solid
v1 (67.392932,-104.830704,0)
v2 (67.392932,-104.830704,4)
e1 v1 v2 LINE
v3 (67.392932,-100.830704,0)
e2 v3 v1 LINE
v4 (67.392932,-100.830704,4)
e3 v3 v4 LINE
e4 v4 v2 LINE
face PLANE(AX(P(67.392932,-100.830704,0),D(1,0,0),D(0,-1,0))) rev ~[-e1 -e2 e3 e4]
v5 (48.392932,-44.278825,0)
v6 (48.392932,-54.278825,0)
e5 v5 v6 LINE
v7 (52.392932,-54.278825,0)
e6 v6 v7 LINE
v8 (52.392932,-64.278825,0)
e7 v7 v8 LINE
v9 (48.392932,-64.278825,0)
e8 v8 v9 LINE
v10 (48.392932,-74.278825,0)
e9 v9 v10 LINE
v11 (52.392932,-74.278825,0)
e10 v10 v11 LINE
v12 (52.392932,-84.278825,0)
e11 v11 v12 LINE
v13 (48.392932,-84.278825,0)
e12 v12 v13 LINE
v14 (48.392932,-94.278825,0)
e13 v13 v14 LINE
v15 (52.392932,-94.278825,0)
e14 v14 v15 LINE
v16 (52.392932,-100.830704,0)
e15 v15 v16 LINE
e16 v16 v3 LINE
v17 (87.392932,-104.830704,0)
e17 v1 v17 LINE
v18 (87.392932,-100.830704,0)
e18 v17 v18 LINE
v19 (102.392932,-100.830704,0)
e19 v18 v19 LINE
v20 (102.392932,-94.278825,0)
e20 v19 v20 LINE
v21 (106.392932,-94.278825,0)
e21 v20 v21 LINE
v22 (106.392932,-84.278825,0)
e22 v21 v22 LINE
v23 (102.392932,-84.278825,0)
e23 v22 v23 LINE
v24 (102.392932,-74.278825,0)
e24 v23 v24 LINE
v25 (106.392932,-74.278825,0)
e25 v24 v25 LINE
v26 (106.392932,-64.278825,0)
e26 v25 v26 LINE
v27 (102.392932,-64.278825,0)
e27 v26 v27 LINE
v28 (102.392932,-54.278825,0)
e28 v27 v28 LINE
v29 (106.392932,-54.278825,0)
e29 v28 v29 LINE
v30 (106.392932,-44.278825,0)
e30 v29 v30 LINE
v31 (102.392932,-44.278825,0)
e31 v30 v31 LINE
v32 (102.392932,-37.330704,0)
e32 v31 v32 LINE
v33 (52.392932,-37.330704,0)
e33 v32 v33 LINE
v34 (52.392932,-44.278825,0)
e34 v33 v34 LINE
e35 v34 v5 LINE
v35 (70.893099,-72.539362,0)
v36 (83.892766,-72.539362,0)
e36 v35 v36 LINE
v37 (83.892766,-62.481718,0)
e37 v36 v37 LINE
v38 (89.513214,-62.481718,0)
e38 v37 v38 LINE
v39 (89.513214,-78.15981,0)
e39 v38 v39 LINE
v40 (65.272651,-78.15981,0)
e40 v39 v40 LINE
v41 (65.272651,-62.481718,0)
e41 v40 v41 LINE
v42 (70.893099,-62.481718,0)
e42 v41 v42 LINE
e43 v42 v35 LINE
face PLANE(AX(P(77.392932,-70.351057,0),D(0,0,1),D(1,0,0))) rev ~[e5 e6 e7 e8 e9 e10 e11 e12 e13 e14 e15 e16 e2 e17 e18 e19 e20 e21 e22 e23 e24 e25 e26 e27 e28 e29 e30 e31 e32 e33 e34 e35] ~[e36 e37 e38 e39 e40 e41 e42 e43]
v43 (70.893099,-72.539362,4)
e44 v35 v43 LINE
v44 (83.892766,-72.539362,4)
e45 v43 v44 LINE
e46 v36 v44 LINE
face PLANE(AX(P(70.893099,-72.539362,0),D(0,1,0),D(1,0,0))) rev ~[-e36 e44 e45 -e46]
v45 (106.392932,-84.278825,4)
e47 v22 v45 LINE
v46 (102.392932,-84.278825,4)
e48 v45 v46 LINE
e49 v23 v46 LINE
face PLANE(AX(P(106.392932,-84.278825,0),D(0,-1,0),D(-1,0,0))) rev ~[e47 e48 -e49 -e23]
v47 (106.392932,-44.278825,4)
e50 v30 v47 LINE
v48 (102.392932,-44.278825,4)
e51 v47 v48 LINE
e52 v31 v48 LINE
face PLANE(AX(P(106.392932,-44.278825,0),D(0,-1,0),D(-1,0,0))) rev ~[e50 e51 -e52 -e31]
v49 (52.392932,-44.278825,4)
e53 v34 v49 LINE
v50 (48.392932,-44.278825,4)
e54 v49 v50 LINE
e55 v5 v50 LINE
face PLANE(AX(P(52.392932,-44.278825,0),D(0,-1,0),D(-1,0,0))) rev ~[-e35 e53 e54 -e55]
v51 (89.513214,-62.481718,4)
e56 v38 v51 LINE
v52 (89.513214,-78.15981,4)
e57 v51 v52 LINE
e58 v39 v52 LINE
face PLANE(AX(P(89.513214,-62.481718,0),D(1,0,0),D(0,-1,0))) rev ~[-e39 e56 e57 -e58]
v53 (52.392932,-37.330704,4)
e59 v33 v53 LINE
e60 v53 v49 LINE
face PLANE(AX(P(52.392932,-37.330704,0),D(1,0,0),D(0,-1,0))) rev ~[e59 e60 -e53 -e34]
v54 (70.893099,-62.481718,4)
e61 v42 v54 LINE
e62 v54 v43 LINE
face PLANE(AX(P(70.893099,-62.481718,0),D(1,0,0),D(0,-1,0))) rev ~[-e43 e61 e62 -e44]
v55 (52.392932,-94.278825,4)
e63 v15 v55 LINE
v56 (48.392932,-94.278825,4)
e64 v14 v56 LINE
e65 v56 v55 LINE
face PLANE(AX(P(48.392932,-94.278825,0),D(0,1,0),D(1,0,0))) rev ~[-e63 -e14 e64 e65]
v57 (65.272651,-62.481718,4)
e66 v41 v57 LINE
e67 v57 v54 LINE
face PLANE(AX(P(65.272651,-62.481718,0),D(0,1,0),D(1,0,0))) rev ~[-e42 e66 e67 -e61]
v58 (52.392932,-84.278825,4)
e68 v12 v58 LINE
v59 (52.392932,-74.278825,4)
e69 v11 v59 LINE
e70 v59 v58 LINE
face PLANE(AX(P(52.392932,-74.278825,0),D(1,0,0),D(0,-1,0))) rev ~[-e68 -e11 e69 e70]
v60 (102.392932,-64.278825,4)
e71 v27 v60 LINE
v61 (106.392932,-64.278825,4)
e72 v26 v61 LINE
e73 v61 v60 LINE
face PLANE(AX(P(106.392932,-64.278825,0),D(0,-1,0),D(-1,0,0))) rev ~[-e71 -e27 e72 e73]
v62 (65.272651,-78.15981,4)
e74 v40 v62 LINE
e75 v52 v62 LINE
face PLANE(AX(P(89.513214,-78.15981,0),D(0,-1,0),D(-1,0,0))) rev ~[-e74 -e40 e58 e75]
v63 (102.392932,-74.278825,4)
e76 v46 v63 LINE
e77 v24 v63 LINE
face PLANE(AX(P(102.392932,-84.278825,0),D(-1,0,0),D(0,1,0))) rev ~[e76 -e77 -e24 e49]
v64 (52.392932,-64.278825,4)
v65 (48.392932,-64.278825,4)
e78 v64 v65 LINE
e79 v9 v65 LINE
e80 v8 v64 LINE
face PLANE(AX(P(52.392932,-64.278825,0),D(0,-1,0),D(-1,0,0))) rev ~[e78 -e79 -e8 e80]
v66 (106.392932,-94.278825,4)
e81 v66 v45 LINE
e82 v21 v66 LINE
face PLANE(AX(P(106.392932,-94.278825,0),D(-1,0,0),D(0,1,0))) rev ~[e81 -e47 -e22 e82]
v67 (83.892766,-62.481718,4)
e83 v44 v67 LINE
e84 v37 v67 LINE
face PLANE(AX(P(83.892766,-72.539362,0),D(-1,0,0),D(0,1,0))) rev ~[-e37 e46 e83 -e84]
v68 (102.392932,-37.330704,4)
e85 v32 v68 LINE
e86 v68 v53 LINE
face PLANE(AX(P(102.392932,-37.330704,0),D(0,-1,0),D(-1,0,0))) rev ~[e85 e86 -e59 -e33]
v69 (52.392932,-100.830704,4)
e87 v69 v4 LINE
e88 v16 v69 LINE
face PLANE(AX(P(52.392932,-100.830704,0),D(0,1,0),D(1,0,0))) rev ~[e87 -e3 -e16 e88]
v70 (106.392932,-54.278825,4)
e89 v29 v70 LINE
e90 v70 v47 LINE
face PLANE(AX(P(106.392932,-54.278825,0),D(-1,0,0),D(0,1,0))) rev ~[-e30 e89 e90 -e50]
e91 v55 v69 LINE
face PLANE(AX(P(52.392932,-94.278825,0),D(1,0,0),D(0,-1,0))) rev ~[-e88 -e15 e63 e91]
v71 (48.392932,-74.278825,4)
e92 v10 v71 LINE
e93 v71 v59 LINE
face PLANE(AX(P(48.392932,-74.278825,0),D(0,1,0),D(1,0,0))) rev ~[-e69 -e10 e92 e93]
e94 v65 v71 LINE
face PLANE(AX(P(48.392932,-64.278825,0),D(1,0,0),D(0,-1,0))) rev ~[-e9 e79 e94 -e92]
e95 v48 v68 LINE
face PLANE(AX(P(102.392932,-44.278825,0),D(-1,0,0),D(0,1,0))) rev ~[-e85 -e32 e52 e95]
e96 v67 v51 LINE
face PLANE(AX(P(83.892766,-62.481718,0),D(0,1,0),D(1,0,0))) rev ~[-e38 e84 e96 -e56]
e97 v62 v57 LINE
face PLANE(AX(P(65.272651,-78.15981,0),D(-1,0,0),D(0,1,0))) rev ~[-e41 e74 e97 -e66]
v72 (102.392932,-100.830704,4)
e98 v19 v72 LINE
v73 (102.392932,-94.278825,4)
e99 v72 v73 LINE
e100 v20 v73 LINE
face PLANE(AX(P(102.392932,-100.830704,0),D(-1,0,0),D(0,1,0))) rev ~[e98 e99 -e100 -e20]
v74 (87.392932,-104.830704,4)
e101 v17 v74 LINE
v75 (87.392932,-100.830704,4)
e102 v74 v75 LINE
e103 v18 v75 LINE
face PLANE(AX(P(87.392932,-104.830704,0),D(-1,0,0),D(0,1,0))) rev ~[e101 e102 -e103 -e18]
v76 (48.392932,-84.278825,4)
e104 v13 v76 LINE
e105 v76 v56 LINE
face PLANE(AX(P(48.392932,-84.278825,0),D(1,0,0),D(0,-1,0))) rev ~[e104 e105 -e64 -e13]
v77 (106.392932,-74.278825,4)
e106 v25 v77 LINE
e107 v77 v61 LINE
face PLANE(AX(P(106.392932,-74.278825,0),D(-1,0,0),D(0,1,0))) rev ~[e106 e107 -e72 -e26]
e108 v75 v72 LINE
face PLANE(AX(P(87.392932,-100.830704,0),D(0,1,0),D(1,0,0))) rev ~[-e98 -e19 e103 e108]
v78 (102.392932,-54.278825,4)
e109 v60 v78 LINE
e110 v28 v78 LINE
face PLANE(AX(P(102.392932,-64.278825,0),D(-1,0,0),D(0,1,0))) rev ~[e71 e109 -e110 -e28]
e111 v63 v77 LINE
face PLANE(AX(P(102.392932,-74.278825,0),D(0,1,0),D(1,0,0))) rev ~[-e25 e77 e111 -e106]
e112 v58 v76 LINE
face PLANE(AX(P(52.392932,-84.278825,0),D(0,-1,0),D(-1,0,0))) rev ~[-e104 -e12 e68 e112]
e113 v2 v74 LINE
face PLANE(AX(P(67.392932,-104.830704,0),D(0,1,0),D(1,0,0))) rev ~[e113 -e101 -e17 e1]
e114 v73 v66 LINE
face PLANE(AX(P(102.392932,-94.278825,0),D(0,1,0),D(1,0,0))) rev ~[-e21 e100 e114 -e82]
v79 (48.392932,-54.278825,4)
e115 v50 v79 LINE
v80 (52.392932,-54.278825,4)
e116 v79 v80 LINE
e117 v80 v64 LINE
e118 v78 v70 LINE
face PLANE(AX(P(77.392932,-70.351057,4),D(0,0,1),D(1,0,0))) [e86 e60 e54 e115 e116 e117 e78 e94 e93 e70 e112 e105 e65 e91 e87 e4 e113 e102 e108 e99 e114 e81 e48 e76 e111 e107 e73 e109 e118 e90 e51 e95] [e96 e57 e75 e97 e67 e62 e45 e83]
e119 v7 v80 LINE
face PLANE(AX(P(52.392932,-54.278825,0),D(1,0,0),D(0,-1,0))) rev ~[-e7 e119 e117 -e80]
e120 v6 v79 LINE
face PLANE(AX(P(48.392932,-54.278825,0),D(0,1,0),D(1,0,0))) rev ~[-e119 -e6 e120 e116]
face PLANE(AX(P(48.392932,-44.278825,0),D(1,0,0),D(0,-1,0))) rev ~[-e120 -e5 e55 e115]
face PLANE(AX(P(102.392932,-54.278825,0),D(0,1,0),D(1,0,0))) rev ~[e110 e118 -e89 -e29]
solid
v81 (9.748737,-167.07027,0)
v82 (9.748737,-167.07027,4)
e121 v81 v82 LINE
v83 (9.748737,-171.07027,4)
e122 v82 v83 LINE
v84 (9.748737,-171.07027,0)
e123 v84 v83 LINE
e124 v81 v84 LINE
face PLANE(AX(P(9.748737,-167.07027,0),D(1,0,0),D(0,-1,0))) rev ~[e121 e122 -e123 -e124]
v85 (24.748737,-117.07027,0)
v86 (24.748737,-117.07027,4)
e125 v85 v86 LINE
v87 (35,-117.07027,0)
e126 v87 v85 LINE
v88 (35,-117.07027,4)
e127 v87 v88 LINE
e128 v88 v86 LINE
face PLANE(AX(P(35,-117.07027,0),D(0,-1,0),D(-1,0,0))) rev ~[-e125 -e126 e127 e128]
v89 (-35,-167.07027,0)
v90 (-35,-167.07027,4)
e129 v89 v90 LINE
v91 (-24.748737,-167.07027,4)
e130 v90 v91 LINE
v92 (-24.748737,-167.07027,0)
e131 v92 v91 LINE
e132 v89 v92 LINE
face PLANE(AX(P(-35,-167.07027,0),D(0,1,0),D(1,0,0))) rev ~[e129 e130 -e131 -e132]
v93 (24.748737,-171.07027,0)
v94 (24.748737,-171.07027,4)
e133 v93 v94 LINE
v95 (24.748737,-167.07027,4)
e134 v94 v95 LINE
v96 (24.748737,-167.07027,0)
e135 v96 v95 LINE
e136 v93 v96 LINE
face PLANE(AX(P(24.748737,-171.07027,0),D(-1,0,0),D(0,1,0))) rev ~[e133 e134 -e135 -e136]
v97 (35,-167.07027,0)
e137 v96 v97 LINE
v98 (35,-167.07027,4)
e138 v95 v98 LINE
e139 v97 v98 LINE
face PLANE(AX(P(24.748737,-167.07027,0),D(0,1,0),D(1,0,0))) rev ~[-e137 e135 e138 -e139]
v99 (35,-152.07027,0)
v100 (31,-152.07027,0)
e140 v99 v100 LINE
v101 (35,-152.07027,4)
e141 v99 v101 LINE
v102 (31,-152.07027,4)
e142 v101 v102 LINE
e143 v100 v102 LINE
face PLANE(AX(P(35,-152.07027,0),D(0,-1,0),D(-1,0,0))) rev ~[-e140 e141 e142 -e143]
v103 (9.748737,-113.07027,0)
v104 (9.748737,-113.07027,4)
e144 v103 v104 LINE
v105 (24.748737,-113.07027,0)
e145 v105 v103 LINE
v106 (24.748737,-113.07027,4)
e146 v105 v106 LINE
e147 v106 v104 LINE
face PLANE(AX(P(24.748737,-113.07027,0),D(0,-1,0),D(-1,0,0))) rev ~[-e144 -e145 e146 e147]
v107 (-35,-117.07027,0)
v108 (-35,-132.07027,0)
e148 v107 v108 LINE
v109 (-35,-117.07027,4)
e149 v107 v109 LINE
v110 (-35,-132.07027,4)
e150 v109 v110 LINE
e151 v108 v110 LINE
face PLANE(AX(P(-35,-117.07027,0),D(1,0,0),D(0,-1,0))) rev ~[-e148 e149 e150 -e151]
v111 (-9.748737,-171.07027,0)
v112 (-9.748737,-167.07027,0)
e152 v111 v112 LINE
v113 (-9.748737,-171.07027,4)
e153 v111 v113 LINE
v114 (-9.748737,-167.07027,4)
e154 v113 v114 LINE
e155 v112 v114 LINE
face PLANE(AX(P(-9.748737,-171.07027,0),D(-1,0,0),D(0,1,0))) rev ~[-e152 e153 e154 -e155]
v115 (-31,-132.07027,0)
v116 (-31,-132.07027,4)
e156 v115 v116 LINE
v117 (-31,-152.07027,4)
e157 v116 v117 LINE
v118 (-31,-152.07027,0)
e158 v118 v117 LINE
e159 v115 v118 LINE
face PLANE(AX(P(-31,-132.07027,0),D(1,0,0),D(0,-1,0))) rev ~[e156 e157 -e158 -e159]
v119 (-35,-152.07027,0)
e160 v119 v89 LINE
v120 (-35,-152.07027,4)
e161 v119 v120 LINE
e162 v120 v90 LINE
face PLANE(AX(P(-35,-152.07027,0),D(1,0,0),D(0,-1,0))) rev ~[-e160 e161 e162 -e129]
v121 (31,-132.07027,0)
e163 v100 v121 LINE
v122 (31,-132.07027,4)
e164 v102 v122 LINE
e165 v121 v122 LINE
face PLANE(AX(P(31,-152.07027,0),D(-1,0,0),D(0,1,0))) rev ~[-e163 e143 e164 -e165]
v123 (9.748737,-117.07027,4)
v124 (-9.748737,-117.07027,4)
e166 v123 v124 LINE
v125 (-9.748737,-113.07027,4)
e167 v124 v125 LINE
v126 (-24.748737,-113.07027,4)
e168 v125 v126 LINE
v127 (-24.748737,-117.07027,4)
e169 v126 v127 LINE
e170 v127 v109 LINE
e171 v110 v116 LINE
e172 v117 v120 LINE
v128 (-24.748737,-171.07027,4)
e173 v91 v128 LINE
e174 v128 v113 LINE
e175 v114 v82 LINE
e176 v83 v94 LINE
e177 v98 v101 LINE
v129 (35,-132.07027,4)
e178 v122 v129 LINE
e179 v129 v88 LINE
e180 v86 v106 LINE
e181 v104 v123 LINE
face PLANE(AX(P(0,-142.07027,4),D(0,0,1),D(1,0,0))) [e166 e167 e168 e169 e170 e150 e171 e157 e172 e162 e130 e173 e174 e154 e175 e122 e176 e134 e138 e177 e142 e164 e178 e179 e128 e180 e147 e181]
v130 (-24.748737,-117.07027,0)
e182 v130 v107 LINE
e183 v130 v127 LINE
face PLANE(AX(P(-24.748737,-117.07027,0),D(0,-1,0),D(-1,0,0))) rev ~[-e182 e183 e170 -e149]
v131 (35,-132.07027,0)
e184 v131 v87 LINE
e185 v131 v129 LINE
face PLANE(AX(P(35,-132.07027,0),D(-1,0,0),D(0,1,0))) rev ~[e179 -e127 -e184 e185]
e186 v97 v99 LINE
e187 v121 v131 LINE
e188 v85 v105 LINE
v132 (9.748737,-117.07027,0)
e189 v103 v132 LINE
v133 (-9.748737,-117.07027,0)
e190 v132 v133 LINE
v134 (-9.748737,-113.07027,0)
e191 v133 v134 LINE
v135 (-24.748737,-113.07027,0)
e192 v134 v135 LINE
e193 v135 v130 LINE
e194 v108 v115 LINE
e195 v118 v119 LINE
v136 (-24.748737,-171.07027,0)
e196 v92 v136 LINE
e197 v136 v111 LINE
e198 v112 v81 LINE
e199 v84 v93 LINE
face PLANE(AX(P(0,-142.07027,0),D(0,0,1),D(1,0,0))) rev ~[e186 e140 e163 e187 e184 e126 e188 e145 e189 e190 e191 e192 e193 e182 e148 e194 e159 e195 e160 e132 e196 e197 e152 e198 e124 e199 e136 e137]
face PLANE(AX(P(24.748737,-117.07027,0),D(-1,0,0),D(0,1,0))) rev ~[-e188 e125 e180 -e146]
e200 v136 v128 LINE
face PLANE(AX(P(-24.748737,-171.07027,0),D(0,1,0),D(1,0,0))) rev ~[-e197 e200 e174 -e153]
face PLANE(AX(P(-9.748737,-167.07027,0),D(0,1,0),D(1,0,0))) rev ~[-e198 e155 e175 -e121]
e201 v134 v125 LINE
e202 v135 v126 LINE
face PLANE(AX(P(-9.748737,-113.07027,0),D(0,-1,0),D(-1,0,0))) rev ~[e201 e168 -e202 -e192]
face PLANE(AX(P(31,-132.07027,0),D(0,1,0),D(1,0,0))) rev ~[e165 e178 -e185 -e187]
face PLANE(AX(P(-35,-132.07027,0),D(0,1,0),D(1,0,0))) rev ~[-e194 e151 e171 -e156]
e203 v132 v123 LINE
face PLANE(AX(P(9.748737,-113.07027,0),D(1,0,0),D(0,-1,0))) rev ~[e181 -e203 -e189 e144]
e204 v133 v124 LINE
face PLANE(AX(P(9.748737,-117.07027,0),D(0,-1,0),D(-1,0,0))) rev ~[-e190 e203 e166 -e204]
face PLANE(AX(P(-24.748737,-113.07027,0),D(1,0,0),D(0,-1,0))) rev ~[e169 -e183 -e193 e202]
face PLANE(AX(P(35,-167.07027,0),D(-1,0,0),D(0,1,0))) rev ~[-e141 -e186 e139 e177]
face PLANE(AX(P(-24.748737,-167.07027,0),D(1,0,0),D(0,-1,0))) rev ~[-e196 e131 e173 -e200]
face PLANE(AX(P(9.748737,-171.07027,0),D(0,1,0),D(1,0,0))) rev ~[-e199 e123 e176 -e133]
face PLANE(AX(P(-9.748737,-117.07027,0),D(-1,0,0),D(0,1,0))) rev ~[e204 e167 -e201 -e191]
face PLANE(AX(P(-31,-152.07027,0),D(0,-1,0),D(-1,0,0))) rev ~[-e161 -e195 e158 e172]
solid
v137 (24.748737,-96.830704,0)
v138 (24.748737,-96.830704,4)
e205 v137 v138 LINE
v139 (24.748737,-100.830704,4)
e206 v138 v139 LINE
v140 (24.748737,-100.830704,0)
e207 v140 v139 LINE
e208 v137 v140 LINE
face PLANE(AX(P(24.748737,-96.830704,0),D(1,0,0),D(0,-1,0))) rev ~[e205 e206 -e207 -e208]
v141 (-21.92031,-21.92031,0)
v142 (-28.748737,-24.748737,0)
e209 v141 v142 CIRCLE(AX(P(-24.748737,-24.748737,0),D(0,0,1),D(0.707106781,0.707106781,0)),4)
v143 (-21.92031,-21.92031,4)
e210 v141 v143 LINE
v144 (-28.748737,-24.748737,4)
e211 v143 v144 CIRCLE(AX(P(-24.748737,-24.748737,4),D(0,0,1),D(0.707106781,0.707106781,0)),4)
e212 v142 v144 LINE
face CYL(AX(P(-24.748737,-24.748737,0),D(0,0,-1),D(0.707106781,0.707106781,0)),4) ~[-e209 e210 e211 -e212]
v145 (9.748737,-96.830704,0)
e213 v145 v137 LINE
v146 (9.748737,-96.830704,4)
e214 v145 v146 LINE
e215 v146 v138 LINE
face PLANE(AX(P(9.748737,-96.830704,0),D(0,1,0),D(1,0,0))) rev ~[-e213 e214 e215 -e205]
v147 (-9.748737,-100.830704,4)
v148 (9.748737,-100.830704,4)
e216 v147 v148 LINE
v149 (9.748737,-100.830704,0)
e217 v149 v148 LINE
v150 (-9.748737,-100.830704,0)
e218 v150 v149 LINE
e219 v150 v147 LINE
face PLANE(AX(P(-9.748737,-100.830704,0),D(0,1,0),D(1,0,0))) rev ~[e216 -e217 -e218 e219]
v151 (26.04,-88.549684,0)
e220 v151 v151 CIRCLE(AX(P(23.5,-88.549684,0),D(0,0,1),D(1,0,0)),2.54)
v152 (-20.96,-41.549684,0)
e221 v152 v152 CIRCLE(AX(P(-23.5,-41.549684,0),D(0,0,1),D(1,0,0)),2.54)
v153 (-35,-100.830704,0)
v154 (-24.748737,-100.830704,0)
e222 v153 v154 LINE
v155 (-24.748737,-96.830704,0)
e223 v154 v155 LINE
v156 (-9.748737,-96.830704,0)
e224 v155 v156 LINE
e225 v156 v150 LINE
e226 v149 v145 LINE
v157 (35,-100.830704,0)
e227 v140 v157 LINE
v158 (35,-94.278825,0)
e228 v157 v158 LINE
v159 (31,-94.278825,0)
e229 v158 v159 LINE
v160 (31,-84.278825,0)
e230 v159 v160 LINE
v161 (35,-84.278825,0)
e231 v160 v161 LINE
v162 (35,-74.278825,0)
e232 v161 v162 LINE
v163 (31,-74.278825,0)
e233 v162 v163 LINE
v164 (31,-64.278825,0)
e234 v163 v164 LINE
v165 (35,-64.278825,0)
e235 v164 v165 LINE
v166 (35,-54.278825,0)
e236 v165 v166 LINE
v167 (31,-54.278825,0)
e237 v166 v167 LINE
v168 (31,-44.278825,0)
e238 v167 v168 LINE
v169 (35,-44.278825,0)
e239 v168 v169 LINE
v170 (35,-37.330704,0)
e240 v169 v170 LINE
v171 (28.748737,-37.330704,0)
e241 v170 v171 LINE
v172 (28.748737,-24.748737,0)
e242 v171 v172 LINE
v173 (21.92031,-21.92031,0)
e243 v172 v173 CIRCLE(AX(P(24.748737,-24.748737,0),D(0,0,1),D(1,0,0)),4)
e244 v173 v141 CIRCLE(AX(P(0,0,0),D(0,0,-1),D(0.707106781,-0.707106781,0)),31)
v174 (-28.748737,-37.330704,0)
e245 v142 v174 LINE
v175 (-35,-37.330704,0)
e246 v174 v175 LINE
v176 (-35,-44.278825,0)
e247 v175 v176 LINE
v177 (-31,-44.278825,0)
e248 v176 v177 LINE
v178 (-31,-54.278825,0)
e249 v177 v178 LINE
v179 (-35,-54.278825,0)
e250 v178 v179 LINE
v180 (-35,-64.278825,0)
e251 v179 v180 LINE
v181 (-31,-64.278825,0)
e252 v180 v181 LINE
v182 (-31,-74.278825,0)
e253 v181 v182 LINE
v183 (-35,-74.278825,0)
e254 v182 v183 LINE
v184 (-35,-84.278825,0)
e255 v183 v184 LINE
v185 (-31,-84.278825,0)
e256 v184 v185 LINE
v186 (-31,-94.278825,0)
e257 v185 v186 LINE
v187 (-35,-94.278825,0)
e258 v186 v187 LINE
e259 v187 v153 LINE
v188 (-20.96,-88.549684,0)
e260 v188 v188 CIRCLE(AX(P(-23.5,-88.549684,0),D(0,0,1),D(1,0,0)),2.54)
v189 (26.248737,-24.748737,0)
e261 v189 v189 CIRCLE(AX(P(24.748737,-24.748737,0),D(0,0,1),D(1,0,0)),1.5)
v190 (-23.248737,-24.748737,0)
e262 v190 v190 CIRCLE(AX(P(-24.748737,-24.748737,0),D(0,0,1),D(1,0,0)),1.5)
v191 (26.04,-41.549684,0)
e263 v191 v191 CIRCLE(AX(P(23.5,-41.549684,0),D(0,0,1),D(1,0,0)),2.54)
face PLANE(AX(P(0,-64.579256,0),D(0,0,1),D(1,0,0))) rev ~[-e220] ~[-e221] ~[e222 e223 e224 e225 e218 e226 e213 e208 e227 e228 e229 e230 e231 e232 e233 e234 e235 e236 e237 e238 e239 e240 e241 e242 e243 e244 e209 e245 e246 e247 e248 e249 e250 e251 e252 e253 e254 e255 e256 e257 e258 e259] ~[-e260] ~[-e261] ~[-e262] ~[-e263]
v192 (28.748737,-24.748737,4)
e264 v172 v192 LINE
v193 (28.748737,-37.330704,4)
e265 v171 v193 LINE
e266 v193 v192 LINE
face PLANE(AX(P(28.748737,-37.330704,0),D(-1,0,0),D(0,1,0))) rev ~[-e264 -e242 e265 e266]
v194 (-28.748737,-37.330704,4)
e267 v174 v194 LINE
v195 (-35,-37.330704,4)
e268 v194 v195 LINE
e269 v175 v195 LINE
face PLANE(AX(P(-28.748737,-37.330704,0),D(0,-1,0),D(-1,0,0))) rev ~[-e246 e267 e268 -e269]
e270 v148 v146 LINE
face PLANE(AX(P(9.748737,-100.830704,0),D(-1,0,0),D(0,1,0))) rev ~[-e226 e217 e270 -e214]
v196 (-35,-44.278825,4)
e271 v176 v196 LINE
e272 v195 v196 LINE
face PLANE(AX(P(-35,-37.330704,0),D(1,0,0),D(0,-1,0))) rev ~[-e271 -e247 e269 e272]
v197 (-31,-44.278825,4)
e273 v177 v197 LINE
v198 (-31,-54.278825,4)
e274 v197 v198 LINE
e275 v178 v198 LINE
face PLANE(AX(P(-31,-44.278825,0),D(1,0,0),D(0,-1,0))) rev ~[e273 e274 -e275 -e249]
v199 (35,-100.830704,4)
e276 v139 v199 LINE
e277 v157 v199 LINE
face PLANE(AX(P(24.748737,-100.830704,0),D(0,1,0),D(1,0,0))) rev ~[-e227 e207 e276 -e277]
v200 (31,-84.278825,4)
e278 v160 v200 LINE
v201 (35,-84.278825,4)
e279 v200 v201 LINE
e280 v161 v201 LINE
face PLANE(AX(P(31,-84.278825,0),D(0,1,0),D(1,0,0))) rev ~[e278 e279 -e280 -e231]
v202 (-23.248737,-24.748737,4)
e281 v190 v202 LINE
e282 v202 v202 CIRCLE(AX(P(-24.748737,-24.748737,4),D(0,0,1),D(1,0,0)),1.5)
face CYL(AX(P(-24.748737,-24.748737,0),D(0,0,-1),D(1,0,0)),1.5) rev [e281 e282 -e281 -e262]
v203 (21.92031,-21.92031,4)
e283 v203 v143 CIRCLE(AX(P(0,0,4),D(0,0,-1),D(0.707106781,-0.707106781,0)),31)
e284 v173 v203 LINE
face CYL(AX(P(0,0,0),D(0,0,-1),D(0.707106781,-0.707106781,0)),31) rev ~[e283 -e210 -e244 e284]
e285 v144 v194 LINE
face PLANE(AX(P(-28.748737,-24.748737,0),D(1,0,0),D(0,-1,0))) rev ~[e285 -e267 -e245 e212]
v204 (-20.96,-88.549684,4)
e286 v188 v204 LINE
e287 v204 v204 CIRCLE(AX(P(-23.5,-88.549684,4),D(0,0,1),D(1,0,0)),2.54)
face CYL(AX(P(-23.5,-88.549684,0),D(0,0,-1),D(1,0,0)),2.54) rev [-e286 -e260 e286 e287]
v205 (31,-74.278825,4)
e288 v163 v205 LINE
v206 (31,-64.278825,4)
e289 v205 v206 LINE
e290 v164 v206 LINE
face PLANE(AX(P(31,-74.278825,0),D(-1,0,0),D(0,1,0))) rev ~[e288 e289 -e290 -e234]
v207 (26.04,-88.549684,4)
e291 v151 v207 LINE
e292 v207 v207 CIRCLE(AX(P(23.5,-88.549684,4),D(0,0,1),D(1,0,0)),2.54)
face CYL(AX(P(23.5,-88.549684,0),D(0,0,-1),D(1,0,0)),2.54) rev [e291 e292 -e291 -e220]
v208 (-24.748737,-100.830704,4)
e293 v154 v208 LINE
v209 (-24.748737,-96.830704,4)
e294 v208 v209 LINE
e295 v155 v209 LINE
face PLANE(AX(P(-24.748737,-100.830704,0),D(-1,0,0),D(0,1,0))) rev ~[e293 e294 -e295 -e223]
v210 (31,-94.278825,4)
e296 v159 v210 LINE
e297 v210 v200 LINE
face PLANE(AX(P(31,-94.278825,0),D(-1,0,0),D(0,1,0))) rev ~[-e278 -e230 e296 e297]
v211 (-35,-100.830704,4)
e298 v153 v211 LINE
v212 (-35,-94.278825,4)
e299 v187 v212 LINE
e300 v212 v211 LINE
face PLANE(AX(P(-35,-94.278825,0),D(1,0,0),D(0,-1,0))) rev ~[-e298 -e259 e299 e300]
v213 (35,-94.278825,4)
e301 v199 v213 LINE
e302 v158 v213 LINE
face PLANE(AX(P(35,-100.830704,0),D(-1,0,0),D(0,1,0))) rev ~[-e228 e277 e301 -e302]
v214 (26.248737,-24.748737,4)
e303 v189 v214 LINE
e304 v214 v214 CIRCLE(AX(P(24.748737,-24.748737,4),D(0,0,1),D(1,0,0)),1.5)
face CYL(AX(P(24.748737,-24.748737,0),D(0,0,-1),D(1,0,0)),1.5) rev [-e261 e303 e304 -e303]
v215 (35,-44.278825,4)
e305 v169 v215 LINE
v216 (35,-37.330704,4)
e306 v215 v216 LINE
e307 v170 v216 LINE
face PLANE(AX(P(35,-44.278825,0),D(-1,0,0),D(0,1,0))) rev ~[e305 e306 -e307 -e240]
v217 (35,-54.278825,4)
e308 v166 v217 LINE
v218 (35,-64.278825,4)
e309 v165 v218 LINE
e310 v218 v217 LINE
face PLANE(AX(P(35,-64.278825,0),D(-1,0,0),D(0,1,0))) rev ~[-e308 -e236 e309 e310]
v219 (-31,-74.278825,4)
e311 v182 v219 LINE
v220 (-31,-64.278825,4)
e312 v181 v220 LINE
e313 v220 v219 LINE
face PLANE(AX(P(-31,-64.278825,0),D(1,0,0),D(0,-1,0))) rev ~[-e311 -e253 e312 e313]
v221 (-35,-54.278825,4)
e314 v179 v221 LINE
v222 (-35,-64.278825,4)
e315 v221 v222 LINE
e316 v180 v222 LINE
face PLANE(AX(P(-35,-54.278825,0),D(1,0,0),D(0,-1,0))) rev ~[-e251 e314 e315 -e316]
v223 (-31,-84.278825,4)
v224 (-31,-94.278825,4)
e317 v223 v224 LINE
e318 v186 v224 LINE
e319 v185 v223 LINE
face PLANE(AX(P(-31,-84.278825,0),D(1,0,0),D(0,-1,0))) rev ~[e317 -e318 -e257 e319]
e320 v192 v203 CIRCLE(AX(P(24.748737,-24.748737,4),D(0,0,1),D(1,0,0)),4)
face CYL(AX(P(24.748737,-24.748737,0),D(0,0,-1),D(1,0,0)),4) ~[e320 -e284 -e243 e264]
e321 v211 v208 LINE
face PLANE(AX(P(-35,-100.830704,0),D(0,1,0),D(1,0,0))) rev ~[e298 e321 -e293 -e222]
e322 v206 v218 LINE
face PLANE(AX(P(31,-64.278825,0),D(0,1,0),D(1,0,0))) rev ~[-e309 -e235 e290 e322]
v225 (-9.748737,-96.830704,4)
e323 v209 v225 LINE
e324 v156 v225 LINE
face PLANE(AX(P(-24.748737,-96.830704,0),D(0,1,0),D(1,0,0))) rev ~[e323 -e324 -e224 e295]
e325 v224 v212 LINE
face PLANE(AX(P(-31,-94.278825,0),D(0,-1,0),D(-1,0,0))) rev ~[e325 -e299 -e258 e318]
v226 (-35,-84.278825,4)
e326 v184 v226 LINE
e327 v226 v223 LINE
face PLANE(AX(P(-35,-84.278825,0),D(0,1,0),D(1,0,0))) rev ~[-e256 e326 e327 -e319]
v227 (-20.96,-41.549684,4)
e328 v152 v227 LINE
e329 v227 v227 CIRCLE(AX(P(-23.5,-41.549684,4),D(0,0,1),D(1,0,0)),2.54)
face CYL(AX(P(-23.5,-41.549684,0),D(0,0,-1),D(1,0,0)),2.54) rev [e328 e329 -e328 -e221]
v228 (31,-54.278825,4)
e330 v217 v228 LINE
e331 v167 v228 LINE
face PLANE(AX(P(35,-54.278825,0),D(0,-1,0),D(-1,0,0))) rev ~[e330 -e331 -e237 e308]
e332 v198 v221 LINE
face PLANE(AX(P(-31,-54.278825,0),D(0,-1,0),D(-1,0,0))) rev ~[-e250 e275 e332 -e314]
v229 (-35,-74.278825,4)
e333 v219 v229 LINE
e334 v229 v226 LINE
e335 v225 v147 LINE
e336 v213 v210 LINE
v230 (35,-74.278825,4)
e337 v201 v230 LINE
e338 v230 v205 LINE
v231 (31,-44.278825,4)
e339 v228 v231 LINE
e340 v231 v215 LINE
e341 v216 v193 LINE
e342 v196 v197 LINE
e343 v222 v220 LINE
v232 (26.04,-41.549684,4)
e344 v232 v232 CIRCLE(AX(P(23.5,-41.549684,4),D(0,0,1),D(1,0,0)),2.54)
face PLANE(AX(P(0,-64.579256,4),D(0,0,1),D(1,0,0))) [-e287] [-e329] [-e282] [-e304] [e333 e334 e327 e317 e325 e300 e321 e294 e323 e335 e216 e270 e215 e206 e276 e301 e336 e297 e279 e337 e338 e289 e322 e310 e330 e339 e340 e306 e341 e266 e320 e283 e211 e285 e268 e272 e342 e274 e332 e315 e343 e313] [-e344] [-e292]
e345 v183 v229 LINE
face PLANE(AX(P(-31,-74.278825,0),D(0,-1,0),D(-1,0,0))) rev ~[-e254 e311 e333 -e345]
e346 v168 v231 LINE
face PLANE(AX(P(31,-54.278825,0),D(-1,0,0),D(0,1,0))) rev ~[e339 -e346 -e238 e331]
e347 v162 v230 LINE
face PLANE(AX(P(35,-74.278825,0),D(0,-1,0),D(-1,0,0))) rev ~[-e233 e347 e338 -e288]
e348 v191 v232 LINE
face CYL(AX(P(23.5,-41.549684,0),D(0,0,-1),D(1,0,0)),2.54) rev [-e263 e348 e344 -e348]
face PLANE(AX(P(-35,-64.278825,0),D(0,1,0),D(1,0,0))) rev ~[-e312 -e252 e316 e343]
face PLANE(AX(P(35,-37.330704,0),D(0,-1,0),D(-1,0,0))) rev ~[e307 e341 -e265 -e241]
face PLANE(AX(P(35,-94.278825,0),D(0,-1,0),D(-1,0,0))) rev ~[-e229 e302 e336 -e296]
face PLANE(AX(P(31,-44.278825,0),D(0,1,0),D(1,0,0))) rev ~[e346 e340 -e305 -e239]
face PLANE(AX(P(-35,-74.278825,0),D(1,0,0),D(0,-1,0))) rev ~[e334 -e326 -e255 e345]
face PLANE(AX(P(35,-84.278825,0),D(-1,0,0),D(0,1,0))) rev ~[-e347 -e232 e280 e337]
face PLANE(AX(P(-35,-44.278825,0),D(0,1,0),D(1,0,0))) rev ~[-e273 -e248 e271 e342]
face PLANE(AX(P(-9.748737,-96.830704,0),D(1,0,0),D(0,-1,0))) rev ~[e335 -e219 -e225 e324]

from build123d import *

# Parameters (mm, degrees)
SKETCH1_R             = 2.54
SKETCH1_R_2           = 1.5
BOSS_EXTRUDE1_DEPTH   = 4
BOSS_EXTRUDE1_2_DEPTH = 4
BOSS_EXTRUDE1_3_DEPTH = 4


with BuildPart() as part:
    # Sketch1 → Boss-Extrude1 (new body)
    with BuildSketch(Plane.XY):
        with BuildLine():
            Line((-35, -94.278824944), (-35, -100.830704015))
            Line((-35, -100.830704015), (-24.748737342, -100.830704015))
            Line((-24.748737342, -100.830704015), (-24.748737342, -96.830704015))
            Line((-24.748737342, -96.830704015), (-9.748737342, -96.830704015))
            Line((-9.748737342, -96.830704015), (-9.748737342, -100.830704015))
            Line((-9.748737342, -100.830704015), (9.748737342, -100.830704015))
            Line((9.748737342, -100.830704015), (9.748737342, -96.830704015))
            Line((9.748737342, -96.830704015), (24.748737342, -96.830704015))
            Line((24.748737342, -96.830704015), (24.748737342, -100.830704015))
            Line((24.748737342, -100.830704015), (35, -100.830704015))
            Line((35, -100.830704015), (35, -94.278824944))
            Line((35, -94.278824944), (31, -94.278824944))
            Line((31, -94.278824944), (31, -84.278824944))
            Line((31, -84.278824944), (35, -84.278824944))
            Line((35, -84.278824944), (35, -74.278824944))
            Line((35, -74.278824944), (31, -74.278824944))
            Line((31, -74.278824944), (31, -64.278824944))
            Line((31, -64.278824944), (35, -64.278824944))
            Line((35, -64.278824944), (35, -54.278824944))
            Line((35, -54.278824944), (31, -54.278824944))
            Line((31, -54.278824944), (31, -44.278824944))
            Line((31, -44.278824944), (35, -44.278824944))
            Line((35, -44.278824944), (35, -37.330704015))
            Line((35, -37.330704015), (28.748737342, -37.330704015))
            Line((28.748737342, -37.330704015), (28.748737342, -24.748737342))
            ThreePointArc((28.748737342, -24.748737342), (26.279471071, -21.053219211), (21.920310217, -21.920310217))
            ThreePointArc((21.920310217, -21.920310217), (0, -31), (-21.920310217, -21.920310217))
            ThreePointArc((-21.920310217, -21.920310217), (-26.279471071, -21.053219211), (-28.748737342, -24.748737342))
            Line((-28.748737342, -24.748737342), (-28.748737342, -37.330704015))
            Line((-28.748737342, -37.330704015), (-35, -37.330704015))
            Line((-35, -37.330704015), (-35, -44.278824944))
            Line((-35, -44.278824944), (-31, -44.278824944))
            Line((-31, -44.278824944), (-31, -54.278824944))
            Line((-31, -54.278824944), (-35, -54.278824944))
            Line((-35, -54.278824944), (-35, -64.278824944))
            Line((-35, -64.278824944), (-31, -64.278824944))
            Line((-31, -64.278824944), (-31, -74.278824944))
            Line((-31, -74.278824944), (-35, -74.278824944))
            Line((-35, -74.278824944), (-35, -84.278824944))
            Line((-35, -84.278824944), (-31, -84.278824944))
            Line((-31, -84.278824944), (-31, -94.278824944))
            Line((-31, -94.278824944), (-35, -94.278824944))
        make_face()
        with Locations((-23.5, -88.549683874)):
            Circle(SKETCH1_R, mode=Mode.SUBTRACT)
        with Locations((23.5, -88.549683874)):
            Circle(SKETCH1_R, mode=Mode.SUBTRACT)
        with Locations((-23.5, -41.549683874)):
            Circle(SKETCH1_R, mode=Mode.SUBTRACT)
        with Locations((-24.748737342, -24.748737342)):
            Circle(SKETCH1_R_2, mode=Mode.SUBTRACT)
        with Locations((23.5, -41.549683874)):
            Circle(SKETCH1_R, mode=Mode.SUBTRACT)
        with Locations((24.748737342, -24.748737342)):
            Circle(SKETCH1_R_2, mode=Mode.SUBTRACT)
    extrude(amount=BOSS_EXTRUDE1_DEPTH)


with BuildPart() as body_2:
    # Sketch1 → Boss-Extrude1 2 (new body)
    with BuildSketch(Plane.XY):
        Polygon((87.392932462, -104.830704015), (87.392932462, -100.830704015), (102.392932462, -100.830704015), (102.392932462, -94.278824944), (106.392932462, -94.278824944), (106.392932462, -84.278824944), (102.392932462, -84.278824944), (102.392932462, -74.278824944), (106.392932462, -74.278824944), (106.392932462, -64.278824944), (102.392932462, -64.278824944), (102.392932462, -54.278824944), (106.392932462, -54.278824944), (106.392932462, -44.278824944), (102.392932462, -44.278824944), (102.392932462, -37.330704015), (52.392932462, -37.330704015), (52.392932462, -44.278824944), (48.392932462, -44.278824944), (48.392932462, -54.278824944), (52.392932462, -54.278824944), (52.392932462, -64.278824944), (48.392932462, -64.278824944), (48.392932462, -74.278824944), (52.392932462, -74.278824944), (52.392932462, -84.278824944), (48.392932462, -84.278824944), (48.392932462, -94.278824944), (52.392932462, -94.278824944), (52.392932462, -100.830704015), (67.392932462, -100.830704015), (67.392932462, -104.830704015), align=None)
        Polygon((65.27265077, -78.159810059), (65.27265077, -62.481717659), (70.893098989, -62.481717659), (70.893098989, -72.53936184), (83.892765935, -72.53936184), (83.892765935, -62.481717659), (89.513214154, -62.481717659), (89.513214154, -78.159810059), align=None, mode=Mode.SUBTRACT)
    extrude(amount=BOSS_EXTRUDE1_2_DEPTH)


with BuildPart() as body_3:
    # Sketch1 → Boss-Extrude1 3 (new body)
    with BuildSketch(Plane.XY):
        Polygon((35, -117.070270322), (24.748737342, -117.070270322), (24.748737342, -113.070270322), (9.748737342, -113.070270322), (9.748737342, -117.070270322), (-9.748737342, -117.070270322), (-9.748737342, -113.070270322), (-24.748737342, -113.070270322), (-24.748737342, -117.070270322), (-35, -117.070270322), (-35, -132.070270322), (-31, -132.070270322), (-31, -152.070270322), (-35, -152.070270322), (-35, -167.070270322), (-24.748737342, -167.070270322), (-24.748737342, -171.070270322), (-9.748737342, -171.070270322), (-9.748737342, -167.070270322), (9.748737342, -167.070270322), (9.748737342, -171.070270322), (24.748737342, -171.070270322), (24.748737342, -167.070270322), (35, -167.070270322), (35, -152.070270322), (31, -152.070270322), (31, -132.070270322), (35, -132.070270322), align=None)
    extrude(amount=BOSS_EXTRUDE1_3_DEPTH)


solid = Compound([part.part, body_2.part, body_3.part])
